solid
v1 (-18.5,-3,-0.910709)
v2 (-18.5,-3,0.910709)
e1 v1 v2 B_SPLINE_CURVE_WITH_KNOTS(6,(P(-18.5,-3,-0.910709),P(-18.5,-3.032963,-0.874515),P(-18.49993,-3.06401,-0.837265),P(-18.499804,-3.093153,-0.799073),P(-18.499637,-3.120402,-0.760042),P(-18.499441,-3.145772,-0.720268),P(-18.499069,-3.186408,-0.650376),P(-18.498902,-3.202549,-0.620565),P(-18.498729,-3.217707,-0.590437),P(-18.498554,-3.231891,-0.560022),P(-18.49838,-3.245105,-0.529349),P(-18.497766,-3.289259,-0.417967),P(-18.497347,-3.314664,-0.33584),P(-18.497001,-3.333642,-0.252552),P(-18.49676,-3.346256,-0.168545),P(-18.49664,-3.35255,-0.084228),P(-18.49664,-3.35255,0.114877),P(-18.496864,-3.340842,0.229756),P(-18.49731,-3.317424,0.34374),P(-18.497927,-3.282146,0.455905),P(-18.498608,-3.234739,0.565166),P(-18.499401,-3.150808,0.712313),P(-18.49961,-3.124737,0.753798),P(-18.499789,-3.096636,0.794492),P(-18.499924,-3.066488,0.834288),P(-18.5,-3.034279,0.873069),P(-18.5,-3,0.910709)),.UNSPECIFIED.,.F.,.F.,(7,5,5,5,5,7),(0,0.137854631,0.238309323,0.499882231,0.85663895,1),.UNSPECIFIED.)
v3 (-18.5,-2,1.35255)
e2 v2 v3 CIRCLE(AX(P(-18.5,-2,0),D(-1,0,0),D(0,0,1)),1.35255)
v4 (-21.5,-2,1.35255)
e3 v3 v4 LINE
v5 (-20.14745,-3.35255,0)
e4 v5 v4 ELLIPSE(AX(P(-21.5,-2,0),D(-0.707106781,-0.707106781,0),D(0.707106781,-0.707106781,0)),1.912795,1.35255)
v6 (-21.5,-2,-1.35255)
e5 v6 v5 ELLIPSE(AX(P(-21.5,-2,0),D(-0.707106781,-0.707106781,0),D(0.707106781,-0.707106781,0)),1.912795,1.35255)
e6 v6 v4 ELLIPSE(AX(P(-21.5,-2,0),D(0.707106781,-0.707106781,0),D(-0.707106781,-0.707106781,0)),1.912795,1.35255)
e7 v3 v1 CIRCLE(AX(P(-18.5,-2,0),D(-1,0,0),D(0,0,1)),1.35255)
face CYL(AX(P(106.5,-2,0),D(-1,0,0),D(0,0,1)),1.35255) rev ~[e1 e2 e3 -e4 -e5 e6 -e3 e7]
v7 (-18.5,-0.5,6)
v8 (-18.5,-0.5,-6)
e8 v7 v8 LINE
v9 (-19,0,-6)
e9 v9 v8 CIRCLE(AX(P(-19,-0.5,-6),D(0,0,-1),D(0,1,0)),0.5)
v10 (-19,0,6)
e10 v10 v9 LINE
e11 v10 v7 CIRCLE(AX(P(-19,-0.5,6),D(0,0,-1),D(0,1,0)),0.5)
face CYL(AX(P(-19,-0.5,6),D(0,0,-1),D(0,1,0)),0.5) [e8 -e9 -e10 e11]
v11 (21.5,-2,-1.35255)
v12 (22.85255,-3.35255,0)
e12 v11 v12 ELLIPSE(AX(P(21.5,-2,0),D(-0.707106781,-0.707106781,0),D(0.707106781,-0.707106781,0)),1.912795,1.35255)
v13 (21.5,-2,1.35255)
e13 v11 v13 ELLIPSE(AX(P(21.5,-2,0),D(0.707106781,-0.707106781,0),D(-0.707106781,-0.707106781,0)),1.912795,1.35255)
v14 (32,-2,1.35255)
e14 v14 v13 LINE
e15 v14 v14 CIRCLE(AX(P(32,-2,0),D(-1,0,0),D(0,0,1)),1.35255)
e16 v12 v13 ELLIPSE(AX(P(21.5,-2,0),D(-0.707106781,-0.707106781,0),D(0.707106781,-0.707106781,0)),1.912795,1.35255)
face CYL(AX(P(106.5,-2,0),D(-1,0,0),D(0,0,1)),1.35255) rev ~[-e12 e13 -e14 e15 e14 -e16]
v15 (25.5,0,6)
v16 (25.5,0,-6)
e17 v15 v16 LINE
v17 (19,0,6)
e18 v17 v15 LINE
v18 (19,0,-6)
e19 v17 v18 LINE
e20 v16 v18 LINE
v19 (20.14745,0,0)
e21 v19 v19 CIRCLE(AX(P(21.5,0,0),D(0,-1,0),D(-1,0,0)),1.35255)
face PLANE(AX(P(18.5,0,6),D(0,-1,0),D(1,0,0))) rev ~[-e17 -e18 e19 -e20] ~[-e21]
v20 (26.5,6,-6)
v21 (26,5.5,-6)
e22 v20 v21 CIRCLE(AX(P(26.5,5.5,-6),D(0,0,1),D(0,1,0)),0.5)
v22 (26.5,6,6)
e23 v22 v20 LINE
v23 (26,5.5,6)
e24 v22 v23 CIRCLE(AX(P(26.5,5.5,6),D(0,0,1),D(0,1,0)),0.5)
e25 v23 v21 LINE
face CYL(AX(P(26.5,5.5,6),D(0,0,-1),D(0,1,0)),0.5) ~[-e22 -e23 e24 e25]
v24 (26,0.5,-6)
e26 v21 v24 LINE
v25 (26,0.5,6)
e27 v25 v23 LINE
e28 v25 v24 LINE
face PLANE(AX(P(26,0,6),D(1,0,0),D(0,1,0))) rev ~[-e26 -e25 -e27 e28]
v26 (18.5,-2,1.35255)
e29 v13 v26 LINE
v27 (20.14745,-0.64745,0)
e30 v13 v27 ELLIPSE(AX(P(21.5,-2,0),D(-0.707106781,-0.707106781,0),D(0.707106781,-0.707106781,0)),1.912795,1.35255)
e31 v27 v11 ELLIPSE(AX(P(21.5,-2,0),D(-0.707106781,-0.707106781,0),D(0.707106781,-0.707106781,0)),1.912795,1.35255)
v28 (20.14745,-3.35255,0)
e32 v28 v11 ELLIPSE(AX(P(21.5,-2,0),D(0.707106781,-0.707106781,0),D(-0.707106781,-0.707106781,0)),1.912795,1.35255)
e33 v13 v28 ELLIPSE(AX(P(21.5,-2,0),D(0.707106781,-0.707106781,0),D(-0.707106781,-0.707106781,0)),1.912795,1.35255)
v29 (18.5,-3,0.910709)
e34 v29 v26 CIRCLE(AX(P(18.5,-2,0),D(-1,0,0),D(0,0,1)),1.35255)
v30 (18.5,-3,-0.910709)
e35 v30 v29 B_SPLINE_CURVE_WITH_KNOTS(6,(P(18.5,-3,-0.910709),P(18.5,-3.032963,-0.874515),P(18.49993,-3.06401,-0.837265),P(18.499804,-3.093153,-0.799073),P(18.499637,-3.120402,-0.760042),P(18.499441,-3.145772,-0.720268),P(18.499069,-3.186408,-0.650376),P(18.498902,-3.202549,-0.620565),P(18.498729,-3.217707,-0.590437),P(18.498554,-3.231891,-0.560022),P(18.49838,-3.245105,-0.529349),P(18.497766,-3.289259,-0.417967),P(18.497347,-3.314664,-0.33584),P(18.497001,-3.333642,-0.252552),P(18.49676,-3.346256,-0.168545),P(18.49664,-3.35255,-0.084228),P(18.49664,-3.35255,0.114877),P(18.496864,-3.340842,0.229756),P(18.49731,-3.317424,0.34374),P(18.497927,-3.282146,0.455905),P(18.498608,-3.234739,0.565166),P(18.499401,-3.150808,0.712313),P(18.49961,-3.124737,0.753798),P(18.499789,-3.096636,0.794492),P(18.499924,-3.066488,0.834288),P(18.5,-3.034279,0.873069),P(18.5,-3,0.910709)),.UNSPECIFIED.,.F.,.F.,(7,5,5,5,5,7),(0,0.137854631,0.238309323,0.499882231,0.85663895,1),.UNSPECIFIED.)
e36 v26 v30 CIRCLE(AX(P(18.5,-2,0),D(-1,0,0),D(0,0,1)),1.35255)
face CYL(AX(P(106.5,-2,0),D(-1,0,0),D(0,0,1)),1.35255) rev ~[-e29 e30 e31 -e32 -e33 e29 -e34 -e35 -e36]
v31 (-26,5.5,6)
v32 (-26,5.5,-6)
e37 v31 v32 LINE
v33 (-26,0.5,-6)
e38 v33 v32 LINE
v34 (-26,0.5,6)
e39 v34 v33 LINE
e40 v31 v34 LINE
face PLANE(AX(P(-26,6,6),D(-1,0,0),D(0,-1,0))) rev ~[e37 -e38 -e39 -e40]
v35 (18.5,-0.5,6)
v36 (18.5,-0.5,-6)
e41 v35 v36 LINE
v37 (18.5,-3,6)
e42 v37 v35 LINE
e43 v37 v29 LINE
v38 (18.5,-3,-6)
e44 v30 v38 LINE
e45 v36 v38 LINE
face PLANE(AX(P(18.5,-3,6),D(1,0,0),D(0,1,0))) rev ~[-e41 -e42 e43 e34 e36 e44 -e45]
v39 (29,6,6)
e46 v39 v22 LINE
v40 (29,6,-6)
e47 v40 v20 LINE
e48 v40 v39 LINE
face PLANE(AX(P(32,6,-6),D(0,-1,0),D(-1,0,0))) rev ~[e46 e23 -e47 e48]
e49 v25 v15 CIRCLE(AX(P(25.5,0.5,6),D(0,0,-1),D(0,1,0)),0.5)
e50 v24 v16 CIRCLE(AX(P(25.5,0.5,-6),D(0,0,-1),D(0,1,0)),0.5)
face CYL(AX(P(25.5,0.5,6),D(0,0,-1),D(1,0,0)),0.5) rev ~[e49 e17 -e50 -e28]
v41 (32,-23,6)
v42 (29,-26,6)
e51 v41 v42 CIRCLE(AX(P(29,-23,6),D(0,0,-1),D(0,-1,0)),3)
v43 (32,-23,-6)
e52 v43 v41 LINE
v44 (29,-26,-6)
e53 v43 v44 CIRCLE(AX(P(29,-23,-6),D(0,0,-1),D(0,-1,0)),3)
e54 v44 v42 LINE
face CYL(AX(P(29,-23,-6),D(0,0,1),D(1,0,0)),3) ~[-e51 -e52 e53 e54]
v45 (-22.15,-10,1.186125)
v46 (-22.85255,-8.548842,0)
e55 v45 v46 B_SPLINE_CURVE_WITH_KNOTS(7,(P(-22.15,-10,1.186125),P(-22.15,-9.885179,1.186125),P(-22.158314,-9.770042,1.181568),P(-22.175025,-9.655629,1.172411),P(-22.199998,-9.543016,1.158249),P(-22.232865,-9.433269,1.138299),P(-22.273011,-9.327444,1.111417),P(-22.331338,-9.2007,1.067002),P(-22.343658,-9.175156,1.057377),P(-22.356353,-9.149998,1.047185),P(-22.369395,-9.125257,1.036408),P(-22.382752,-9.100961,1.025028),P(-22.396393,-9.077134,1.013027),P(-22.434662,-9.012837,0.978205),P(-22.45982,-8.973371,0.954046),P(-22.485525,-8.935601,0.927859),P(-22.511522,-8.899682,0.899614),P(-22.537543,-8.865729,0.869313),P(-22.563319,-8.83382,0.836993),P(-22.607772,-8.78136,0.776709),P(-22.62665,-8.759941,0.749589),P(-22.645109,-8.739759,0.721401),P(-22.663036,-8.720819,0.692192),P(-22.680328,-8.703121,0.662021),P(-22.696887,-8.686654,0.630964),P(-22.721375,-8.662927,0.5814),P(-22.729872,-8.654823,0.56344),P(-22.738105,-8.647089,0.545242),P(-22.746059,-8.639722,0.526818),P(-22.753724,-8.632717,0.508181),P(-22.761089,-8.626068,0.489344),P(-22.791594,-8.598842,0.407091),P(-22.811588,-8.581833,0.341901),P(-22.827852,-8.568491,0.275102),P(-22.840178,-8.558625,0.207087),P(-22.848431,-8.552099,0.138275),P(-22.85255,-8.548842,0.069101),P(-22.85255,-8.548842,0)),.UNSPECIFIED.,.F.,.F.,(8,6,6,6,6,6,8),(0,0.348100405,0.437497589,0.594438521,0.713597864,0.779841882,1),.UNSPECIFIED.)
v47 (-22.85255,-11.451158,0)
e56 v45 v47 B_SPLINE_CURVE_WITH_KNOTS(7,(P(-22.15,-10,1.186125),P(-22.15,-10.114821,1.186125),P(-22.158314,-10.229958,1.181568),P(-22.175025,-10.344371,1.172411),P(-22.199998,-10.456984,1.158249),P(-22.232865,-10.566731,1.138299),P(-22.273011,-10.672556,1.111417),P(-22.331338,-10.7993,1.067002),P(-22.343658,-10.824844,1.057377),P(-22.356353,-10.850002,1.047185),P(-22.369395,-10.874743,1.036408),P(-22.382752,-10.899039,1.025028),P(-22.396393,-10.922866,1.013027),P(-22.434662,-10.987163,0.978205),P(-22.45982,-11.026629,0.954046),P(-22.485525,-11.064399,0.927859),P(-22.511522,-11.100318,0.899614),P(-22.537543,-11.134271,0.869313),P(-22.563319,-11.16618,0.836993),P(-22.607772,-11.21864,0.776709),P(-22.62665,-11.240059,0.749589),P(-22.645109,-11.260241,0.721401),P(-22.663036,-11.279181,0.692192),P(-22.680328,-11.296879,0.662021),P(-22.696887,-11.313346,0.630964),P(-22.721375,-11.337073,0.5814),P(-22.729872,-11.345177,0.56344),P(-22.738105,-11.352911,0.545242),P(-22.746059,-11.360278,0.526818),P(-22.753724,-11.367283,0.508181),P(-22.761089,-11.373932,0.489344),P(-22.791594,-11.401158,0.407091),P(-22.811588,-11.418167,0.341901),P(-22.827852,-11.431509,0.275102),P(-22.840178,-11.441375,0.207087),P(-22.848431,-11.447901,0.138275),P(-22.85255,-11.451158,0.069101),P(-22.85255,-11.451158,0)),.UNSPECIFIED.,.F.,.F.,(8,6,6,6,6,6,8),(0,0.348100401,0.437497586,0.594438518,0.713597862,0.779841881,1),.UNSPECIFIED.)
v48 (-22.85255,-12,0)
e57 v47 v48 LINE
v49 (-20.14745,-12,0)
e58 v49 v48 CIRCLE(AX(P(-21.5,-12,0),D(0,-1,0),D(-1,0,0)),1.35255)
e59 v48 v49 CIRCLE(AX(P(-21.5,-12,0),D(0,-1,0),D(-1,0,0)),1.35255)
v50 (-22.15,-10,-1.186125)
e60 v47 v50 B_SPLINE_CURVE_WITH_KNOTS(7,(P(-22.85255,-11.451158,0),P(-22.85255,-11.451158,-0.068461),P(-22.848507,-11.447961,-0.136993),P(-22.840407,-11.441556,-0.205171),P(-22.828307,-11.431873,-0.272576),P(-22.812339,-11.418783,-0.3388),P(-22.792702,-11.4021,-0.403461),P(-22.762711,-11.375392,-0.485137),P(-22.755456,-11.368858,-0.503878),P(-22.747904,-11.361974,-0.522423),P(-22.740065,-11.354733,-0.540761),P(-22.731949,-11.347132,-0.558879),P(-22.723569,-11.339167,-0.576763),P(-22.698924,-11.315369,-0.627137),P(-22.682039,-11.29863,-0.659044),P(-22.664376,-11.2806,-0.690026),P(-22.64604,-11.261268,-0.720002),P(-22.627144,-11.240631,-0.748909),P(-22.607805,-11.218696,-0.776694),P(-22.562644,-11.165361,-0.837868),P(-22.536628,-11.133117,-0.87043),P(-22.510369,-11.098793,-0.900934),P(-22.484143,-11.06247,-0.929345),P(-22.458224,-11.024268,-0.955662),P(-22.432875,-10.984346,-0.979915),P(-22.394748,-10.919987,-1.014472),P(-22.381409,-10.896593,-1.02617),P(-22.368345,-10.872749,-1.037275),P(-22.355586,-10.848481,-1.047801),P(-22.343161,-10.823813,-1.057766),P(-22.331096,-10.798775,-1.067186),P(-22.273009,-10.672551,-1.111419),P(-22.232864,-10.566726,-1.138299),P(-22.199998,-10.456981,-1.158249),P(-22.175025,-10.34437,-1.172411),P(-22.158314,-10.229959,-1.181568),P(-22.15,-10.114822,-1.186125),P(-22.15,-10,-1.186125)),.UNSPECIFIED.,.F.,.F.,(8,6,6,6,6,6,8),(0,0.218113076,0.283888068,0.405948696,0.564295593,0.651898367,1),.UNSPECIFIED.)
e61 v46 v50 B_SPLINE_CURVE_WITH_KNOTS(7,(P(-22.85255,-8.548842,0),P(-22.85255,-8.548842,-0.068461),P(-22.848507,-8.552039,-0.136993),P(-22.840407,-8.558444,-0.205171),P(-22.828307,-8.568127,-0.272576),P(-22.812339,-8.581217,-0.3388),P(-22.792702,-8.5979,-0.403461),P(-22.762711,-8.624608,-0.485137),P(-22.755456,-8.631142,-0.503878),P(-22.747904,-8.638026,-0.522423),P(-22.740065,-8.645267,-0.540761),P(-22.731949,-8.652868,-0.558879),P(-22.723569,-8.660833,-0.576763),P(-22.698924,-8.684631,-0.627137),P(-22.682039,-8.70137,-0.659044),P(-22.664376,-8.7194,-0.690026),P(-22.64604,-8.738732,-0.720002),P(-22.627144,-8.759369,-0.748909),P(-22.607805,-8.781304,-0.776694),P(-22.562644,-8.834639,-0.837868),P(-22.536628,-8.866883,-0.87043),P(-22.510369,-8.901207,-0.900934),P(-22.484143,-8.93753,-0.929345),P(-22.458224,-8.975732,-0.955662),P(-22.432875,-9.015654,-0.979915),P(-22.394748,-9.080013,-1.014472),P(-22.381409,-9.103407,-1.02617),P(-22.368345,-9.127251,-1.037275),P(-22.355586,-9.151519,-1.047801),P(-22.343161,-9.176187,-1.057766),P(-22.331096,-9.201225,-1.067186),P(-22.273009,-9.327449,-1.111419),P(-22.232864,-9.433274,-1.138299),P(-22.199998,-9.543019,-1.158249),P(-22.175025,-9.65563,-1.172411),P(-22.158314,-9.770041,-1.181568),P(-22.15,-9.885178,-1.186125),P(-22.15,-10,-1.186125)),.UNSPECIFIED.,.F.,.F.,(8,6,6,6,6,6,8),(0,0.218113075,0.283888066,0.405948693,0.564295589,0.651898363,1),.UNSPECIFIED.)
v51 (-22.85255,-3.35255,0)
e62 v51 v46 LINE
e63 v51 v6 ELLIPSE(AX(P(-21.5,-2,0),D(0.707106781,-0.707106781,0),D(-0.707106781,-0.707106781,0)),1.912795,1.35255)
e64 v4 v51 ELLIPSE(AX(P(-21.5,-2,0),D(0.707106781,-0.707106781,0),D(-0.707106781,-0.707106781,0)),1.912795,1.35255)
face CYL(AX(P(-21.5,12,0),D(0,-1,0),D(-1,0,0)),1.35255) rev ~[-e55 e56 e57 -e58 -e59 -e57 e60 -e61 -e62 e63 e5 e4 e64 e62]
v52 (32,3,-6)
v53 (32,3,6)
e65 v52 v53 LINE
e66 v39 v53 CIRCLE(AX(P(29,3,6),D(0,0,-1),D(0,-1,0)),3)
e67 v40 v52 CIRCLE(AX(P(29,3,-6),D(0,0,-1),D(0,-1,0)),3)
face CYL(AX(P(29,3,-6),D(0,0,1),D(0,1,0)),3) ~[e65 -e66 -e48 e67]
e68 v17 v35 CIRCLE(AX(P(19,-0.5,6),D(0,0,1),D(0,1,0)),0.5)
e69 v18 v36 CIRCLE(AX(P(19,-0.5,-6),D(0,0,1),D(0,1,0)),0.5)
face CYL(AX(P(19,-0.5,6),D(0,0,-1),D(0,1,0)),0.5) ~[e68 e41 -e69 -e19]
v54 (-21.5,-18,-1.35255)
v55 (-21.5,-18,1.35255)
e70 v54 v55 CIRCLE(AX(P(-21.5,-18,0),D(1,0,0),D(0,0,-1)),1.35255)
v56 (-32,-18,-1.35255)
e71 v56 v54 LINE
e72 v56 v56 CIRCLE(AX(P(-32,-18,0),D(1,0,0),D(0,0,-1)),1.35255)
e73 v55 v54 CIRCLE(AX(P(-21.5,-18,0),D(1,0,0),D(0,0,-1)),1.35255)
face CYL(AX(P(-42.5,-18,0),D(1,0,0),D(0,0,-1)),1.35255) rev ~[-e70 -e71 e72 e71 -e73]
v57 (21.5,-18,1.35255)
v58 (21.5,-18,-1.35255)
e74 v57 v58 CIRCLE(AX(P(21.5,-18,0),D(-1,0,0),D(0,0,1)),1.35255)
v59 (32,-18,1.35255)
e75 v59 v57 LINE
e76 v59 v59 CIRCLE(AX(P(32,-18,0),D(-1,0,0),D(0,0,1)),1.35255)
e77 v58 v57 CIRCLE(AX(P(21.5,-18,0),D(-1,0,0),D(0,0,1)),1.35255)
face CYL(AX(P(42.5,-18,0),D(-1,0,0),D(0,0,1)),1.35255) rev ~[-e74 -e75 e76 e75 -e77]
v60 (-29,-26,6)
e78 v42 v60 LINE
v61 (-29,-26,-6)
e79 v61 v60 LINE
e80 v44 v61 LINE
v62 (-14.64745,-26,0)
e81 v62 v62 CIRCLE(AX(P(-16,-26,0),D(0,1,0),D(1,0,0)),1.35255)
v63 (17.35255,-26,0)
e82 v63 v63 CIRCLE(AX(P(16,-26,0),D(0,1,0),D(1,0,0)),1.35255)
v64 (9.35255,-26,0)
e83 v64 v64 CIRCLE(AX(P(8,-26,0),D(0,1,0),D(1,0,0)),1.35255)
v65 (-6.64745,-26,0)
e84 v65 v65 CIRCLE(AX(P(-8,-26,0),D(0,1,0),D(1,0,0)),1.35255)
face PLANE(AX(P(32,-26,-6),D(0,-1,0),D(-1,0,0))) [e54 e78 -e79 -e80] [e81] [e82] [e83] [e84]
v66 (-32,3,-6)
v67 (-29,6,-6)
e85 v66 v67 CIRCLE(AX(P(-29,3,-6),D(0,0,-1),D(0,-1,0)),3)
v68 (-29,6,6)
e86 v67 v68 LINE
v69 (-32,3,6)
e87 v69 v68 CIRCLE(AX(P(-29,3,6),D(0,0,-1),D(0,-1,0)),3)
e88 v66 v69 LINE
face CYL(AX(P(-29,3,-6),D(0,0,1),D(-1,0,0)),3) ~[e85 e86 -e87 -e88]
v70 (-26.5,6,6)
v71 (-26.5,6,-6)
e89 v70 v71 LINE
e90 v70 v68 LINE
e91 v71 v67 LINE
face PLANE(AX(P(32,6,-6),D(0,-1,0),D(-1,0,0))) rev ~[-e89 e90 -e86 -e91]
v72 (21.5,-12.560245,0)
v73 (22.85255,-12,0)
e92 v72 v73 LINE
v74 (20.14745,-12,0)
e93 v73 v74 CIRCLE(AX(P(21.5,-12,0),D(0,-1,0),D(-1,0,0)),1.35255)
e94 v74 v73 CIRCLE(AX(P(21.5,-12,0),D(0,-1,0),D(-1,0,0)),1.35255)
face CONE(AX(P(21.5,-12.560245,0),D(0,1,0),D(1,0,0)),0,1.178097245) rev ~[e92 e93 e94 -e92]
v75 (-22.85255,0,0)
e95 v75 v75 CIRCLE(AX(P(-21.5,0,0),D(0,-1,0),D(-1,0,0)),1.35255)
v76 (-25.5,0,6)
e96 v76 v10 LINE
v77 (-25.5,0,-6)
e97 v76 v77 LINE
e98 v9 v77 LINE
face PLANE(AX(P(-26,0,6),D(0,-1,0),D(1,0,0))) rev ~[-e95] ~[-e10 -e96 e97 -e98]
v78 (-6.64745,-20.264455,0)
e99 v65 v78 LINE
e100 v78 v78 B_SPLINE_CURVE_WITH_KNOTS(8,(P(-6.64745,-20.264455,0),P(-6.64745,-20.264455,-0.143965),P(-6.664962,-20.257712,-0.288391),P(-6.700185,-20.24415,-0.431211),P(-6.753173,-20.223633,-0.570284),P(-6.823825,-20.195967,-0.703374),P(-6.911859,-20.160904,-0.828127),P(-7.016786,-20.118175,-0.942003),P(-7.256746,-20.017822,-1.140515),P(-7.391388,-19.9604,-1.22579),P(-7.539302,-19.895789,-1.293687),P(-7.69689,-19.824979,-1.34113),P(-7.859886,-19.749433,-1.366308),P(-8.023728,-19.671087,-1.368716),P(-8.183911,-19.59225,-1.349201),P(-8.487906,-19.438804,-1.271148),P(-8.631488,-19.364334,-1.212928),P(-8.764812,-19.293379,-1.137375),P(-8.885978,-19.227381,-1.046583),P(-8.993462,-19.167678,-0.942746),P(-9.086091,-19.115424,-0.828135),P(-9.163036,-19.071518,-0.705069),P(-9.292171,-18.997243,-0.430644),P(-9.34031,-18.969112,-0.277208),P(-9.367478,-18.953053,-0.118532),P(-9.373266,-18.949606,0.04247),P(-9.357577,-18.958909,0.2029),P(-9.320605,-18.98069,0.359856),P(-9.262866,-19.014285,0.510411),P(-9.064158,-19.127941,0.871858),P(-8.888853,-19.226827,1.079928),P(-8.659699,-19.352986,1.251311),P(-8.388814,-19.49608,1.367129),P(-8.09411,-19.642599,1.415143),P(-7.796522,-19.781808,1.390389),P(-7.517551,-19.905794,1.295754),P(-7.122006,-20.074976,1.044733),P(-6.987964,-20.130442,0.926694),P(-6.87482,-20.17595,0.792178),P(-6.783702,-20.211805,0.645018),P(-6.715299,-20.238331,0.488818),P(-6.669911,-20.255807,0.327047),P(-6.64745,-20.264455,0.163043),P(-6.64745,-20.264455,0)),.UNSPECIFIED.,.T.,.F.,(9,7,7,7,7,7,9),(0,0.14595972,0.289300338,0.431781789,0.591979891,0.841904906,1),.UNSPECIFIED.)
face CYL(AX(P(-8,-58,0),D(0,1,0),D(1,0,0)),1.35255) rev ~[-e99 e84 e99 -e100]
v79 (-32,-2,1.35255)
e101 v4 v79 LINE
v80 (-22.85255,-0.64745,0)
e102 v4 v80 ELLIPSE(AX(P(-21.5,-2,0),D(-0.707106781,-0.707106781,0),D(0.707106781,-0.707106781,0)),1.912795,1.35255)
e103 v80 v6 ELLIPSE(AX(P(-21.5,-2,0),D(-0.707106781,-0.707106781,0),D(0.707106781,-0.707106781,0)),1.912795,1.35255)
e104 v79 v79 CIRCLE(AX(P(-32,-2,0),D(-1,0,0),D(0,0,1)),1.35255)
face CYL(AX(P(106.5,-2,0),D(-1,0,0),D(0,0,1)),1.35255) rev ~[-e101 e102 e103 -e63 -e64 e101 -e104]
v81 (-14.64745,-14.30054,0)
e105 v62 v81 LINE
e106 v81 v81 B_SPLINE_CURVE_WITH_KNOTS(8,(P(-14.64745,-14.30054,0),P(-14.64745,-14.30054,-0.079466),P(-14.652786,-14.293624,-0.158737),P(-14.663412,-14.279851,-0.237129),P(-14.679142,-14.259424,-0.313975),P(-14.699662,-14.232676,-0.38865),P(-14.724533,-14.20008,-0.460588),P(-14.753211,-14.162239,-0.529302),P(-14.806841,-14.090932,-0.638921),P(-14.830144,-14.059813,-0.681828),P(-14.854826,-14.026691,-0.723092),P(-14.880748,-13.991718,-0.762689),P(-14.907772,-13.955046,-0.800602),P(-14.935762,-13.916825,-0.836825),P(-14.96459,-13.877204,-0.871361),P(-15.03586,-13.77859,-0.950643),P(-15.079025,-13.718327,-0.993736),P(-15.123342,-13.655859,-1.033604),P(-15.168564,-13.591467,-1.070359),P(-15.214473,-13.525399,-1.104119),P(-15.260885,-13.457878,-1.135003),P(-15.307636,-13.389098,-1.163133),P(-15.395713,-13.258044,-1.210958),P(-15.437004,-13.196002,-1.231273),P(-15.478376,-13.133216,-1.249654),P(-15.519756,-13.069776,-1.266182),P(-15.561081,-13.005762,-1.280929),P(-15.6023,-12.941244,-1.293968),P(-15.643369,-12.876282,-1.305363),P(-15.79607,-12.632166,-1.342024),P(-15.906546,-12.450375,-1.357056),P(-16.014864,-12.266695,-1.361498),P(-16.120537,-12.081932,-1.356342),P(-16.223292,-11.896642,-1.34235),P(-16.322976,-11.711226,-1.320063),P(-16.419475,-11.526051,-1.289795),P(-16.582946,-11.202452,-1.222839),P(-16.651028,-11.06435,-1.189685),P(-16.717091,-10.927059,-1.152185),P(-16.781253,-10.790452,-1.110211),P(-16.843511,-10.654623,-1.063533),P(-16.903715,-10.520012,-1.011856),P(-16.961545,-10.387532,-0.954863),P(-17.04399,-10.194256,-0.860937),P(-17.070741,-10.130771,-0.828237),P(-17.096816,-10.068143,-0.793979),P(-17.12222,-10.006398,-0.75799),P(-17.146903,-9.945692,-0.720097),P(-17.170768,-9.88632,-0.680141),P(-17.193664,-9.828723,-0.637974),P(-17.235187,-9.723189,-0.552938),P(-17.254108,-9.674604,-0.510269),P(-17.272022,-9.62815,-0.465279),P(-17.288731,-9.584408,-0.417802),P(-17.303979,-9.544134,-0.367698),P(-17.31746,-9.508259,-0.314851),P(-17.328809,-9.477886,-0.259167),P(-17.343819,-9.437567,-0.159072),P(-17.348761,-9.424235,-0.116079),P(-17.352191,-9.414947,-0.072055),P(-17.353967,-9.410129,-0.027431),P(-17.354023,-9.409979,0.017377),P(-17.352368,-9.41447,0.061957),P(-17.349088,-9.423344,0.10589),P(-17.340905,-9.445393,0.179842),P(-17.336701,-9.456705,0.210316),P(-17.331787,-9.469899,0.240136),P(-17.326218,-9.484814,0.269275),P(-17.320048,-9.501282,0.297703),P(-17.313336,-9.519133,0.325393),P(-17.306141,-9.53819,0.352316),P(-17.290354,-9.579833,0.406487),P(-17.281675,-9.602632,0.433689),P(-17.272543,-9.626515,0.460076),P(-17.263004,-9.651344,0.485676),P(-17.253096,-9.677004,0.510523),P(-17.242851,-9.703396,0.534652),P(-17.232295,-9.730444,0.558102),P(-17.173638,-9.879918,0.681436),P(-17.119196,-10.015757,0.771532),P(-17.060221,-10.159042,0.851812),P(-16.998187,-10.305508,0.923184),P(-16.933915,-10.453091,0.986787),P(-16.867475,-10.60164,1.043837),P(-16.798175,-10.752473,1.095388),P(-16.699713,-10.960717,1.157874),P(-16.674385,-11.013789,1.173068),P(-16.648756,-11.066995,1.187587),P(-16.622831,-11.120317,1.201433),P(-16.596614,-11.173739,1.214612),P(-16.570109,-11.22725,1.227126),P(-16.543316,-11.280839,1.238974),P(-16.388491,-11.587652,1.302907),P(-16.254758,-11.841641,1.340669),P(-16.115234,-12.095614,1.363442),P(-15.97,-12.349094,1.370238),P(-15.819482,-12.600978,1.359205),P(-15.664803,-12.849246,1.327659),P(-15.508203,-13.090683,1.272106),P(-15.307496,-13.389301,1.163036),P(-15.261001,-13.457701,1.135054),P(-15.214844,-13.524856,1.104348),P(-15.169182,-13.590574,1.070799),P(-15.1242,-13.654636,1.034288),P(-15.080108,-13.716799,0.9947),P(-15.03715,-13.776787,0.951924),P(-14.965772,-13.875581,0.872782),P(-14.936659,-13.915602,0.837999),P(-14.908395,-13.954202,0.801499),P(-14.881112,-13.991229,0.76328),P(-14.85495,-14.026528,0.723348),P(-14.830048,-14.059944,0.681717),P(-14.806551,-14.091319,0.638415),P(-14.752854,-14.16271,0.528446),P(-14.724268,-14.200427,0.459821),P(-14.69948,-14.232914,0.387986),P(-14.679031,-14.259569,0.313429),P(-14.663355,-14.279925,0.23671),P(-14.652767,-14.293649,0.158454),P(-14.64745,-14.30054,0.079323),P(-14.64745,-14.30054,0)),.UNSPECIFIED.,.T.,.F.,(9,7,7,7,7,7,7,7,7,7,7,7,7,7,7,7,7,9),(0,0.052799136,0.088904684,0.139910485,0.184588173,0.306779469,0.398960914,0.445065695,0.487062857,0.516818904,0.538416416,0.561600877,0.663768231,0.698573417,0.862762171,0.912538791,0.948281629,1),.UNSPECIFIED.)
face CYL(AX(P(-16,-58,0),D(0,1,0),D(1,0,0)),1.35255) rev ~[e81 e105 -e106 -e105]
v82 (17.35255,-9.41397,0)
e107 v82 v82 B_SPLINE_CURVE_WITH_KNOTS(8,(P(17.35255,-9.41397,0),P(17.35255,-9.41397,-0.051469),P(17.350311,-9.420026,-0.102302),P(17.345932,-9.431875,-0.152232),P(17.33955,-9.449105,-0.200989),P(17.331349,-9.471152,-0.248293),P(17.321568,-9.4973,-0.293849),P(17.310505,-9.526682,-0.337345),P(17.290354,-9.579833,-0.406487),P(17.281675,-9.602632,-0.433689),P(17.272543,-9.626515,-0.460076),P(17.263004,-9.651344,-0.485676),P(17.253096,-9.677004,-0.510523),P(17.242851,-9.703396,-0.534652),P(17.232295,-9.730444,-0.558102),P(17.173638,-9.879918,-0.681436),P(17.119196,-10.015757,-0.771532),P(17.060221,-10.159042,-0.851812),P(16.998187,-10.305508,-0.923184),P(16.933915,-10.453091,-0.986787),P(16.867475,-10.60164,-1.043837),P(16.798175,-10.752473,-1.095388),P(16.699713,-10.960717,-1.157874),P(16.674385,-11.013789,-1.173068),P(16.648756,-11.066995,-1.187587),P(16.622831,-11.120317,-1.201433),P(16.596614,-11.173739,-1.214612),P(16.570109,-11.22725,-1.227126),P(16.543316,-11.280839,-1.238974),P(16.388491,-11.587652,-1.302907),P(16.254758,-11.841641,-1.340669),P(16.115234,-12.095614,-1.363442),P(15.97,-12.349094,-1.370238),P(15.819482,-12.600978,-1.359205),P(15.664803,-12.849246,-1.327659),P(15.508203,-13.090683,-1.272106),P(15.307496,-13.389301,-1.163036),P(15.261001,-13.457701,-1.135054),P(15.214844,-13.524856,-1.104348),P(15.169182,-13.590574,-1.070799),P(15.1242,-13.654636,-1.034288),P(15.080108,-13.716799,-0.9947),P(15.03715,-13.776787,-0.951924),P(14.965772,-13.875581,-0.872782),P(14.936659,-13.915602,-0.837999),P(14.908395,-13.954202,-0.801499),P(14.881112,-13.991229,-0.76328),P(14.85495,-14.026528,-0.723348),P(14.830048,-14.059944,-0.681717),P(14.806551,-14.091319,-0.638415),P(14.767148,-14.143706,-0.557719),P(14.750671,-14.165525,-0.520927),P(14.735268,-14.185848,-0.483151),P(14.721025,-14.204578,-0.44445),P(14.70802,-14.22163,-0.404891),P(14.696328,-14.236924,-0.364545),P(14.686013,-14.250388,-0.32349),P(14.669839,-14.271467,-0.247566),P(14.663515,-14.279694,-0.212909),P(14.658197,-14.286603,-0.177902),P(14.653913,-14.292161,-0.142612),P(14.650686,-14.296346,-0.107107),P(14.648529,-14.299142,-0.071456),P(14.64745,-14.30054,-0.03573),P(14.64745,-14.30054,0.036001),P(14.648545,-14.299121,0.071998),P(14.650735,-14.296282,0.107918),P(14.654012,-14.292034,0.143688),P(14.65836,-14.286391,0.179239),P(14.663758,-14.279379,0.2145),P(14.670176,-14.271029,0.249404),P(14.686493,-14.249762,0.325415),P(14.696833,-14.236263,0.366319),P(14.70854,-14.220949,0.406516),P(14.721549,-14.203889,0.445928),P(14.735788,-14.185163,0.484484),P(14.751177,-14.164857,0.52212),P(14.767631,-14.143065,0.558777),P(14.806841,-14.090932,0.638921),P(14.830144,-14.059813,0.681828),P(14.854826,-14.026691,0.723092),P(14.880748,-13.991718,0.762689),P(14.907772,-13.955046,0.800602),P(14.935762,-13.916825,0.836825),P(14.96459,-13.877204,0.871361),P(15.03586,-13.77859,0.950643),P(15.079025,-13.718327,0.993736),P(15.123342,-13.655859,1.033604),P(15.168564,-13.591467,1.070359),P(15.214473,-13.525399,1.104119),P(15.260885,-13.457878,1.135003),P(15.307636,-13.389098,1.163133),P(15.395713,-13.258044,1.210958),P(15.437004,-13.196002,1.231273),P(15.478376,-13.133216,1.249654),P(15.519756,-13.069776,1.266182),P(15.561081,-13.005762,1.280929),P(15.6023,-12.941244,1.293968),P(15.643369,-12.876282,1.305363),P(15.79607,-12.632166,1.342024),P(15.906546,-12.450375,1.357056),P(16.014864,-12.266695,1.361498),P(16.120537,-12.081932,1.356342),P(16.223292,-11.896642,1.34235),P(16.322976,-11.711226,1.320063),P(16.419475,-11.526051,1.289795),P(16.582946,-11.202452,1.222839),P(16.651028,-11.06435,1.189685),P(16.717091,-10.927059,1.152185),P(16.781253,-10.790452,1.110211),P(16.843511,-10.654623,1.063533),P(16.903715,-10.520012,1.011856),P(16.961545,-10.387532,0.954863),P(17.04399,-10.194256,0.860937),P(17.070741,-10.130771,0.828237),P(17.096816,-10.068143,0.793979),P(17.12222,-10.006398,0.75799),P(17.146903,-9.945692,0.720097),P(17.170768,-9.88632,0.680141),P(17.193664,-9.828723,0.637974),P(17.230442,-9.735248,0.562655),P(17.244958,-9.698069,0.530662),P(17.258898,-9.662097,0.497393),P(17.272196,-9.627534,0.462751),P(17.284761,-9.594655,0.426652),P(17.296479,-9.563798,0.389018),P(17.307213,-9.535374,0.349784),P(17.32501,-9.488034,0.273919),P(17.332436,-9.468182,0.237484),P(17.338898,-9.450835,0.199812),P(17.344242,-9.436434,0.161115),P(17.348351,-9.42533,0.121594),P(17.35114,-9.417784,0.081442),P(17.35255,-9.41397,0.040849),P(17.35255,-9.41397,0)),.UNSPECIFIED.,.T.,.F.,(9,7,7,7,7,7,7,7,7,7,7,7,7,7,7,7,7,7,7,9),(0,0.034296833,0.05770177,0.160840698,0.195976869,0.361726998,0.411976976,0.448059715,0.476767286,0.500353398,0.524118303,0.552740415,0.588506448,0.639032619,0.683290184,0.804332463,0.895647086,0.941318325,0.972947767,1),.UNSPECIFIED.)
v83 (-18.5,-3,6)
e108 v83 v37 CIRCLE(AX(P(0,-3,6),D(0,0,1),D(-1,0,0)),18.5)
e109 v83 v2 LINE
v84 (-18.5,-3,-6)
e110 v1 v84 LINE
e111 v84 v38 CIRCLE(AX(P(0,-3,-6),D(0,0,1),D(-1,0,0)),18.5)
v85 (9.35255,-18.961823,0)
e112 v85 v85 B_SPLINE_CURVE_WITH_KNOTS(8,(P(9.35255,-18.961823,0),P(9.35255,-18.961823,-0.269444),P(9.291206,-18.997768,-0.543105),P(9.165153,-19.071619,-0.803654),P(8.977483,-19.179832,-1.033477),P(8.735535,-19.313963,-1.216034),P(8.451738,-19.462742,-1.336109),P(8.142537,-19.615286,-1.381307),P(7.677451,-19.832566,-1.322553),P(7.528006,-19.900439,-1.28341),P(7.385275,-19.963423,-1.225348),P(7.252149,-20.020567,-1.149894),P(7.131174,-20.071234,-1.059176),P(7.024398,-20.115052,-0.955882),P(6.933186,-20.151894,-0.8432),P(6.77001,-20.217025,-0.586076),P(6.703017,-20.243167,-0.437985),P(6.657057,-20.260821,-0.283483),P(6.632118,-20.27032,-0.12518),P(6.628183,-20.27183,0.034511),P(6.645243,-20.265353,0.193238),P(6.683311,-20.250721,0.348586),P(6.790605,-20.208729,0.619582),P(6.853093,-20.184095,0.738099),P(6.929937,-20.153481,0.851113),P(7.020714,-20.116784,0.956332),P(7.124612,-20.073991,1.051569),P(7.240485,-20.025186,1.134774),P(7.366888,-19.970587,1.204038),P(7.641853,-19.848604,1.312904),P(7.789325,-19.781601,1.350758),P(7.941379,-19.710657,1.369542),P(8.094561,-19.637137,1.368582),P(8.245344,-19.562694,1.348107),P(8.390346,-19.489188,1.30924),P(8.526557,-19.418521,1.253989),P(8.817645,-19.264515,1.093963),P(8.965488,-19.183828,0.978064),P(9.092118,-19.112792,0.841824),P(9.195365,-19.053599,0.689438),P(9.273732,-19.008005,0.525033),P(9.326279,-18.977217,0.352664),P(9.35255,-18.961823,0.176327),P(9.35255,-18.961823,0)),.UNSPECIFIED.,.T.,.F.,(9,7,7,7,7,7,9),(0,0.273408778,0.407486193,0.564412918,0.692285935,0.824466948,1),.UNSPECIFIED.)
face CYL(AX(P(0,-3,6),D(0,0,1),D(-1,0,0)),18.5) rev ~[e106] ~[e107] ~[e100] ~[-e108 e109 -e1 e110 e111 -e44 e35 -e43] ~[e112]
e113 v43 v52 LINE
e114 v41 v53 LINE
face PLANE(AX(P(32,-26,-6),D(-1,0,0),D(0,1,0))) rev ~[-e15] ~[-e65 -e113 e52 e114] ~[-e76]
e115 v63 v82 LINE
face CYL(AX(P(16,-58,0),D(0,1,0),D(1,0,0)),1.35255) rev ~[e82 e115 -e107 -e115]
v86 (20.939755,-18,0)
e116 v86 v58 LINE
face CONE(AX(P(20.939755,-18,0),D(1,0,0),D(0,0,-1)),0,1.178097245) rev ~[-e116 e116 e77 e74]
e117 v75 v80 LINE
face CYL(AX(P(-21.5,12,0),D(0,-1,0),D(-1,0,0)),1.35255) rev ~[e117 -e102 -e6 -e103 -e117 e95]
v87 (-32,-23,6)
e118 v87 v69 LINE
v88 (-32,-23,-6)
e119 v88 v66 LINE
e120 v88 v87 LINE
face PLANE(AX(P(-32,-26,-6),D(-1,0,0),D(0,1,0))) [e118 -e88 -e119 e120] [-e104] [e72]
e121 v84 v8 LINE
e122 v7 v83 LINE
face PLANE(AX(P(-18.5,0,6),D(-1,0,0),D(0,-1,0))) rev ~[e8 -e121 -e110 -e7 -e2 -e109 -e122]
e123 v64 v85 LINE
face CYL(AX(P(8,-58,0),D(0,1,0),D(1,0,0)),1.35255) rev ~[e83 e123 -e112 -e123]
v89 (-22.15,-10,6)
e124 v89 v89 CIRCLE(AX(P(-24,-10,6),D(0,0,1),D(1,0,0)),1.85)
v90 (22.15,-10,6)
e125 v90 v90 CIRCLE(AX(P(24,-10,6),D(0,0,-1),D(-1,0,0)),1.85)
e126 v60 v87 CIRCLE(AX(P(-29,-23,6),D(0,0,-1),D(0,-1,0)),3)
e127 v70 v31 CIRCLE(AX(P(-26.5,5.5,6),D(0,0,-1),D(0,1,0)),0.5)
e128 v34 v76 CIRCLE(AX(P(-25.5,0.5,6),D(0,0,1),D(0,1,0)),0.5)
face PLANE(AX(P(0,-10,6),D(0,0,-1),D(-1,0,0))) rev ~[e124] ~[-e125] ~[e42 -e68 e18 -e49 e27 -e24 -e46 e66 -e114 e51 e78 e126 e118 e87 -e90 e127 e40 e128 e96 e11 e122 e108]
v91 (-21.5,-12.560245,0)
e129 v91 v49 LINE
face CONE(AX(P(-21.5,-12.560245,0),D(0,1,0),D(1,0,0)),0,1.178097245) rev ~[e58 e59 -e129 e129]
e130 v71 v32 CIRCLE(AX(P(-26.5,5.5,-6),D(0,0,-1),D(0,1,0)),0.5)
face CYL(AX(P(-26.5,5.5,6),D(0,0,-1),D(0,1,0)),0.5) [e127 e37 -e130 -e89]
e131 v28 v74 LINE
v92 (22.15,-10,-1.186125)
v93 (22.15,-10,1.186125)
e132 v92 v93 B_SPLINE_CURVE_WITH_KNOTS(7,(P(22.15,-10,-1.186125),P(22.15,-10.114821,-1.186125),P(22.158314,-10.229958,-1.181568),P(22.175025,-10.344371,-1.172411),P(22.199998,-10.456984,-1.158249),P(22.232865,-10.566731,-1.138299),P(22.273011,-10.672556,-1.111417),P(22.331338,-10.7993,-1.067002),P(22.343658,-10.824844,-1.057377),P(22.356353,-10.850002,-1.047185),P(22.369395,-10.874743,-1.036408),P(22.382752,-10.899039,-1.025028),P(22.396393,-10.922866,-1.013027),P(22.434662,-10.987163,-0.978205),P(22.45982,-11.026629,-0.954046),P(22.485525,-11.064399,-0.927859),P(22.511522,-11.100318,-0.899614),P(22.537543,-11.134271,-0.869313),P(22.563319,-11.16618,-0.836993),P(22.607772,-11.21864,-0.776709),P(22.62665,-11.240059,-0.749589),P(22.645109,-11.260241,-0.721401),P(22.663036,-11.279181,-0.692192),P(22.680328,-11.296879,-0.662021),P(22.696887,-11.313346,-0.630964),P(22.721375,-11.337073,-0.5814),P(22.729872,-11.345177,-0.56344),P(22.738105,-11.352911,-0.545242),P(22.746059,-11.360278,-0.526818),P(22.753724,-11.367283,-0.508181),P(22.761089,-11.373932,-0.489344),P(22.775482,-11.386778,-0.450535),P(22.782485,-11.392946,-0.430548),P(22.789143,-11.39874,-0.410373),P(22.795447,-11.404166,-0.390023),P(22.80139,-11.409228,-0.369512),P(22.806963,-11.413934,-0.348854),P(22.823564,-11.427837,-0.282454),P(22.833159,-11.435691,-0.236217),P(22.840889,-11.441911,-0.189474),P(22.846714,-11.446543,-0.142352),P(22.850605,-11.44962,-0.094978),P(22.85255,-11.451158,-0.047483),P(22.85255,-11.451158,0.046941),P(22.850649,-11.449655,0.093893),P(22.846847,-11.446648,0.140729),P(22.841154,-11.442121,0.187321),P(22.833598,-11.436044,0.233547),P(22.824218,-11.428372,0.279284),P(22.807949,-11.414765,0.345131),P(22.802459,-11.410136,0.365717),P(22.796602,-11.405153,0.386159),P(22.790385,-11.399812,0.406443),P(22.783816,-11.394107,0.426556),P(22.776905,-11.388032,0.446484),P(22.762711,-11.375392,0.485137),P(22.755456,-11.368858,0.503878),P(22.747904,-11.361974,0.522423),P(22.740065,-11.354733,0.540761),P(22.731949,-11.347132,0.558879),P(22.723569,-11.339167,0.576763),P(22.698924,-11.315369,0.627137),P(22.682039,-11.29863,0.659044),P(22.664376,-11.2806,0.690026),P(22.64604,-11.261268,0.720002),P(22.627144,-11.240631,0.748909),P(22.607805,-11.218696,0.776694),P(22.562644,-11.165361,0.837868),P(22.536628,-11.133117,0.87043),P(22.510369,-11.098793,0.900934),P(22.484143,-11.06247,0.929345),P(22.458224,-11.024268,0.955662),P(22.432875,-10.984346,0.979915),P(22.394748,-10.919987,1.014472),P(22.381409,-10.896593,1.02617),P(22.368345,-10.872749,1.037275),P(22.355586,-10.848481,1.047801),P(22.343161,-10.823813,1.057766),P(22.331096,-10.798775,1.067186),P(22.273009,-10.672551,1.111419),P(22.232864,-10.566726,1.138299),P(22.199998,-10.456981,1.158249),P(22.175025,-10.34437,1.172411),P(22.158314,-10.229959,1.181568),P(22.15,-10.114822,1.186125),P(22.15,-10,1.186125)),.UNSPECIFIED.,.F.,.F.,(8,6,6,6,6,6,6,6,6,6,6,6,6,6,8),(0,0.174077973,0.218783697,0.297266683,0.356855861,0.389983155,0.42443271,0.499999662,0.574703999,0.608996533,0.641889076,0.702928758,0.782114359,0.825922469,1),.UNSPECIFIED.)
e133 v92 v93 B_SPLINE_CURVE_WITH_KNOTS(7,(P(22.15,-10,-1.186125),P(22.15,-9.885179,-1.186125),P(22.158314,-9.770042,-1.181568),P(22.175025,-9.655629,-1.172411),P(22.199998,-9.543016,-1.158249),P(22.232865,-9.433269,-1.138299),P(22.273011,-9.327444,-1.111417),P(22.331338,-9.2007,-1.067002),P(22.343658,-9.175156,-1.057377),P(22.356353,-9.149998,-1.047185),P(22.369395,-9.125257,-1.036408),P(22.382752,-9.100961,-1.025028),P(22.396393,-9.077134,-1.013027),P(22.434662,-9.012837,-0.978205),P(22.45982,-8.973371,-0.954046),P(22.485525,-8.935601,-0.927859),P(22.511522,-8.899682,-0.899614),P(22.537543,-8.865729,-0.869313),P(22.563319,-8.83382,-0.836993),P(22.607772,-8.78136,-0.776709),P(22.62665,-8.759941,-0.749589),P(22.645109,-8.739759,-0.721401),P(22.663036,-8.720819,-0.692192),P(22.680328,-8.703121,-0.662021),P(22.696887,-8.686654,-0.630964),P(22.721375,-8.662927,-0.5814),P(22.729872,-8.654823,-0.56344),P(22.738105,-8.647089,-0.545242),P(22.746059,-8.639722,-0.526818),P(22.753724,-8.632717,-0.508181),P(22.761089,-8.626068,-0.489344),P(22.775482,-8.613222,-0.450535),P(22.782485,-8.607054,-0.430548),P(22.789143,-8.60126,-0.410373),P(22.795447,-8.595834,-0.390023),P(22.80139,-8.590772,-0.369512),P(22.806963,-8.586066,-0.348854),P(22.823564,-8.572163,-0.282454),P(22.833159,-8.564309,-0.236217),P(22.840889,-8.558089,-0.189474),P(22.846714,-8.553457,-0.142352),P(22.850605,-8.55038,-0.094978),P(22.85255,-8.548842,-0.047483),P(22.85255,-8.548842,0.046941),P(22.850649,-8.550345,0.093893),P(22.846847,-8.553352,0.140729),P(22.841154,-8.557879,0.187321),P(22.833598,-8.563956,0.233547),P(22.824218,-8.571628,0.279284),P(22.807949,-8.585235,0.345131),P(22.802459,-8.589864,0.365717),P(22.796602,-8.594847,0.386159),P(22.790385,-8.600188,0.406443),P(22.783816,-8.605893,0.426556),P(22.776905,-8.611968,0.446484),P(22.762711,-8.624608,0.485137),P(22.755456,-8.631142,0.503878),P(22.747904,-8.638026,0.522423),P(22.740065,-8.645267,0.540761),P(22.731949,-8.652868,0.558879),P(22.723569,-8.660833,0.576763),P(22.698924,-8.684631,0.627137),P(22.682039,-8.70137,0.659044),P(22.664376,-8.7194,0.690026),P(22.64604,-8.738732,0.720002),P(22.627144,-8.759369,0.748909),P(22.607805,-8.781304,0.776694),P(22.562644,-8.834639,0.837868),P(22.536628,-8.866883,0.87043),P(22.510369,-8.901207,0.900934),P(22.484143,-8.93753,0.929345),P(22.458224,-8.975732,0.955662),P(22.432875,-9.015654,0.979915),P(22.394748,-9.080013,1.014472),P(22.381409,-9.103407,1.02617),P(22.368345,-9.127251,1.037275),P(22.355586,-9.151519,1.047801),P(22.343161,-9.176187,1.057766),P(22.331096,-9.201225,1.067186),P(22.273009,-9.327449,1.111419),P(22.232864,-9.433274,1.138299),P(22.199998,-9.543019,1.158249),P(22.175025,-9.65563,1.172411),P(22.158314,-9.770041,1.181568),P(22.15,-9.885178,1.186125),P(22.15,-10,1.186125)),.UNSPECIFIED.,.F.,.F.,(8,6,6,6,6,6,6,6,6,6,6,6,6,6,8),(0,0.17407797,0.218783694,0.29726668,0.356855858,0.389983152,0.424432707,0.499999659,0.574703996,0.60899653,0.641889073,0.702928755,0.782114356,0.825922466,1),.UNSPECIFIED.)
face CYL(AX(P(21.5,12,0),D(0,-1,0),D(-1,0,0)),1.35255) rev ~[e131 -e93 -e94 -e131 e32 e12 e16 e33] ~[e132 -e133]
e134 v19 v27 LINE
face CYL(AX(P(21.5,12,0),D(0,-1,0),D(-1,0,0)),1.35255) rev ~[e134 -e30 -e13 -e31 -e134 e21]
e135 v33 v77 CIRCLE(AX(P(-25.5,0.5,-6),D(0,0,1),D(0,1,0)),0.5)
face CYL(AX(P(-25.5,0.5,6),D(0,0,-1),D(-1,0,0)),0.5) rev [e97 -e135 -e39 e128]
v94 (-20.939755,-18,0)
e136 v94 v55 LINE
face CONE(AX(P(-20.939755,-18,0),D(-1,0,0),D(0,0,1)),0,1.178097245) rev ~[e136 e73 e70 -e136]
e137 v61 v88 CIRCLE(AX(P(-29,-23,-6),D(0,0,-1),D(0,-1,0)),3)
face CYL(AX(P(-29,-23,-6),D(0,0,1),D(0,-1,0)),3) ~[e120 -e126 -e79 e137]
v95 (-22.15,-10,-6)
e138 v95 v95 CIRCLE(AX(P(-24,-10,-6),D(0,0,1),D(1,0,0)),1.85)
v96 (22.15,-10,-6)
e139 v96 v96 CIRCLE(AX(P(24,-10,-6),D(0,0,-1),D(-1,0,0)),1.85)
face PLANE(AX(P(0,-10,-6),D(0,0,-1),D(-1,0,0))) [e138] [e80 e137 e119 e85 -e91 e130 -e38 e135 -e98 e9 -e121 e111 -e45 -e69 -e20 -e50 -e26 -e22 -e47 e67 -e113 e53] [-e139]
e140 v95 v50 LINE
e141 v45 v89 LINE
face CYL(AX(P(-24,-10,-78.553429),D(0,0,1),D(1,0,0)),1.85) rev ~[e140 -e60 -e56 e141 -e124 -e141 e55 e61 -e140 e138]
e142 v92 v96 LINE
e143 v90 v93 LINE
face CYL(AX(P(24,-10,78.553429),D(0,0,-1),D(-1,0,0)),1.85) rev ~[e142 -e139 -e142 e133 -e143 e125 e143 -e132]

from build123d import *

# Parameters (mm, degrees)
SKETCH1_W                  = 64
SKETCH1_H                  = 32
BOSS_EXTRUDE1_DEPTH        = 12
CUT_EXTRUDE1_DEPTH         = 43.941821107
SKETCH3_W                  = 7.5
SKETCH3_H                  = 6
CUT_EXTRUDE2_DEPTH         = 43.941821107
M2_5_CLEARANCE_HOLE1_D     = 2.7051
M2_5_CLEARANCE_HOLE1_DEPTH = 32
M2_5_CLEARANCE_HOLE2_D     = 2.7051
M2_5_CLEARANCE_HOLE2_DEPTH = 32
F_3_7_3_7_DIAMETER_HOLE1_D = 3.7
M2_5_CLEARANCE_HOLE3_D     = 2.7051
M2_5_CLEARANCE_HOLE3_DEPTH = 12
M2_5_CLEARANCE_HOLE3_TIP   = 0.560244554
F_3_7_3_7_DIAMETER_HOLE2_D = 3.7
M2_5_CLEARANCE_HOLE4_D     = 2.7051
M2_5_CLEARANCE_HOLE4_DEPTH = 74.5
M2_5_CLEARANCE_HOLE5_D     = 2.7051
M2_5_CLEARANCE_HOLE5_DEPTH = 10.5
M2_5_CLEARANCE_HOLE5_TIP   = 0.560244554
M2_5_CLEARANCE_HOLE6_D     = 2.7051
M2_5_CLEARANCE_HOLE6_DEPTH = 10.5
M2_5_CLEARANCE_HOLE6_TIP   = 0.560244554
FILLET1_R                  = 0.5
FILLET2_R                  = 3


with BuildPart() as part:
    # Sketch1 → Boss-Extrude1 (new body)
    with BuildSketch(Plane(origin=(0, 0, -6), x_dir=(-1, 0, 0), z_dir=(0, 0, -1))):
        with Locations((0, -10)):
            Rectangle(SKETCH1_W, SKETCH1_H)
    extrude(amount=-BOSS_EXTRUDE1_DEPTH)

    # Sketch2 → Cut-Extrude1 (cut, through all)
    with BuildSketch(Plane.XY.offset(6)):
        with BuildLine():
            Line((-26, 6), (-26, 0))
            Line((-26, 0), (-18.5, 0))
            Line((-18.5, 0), (-18.5, -3))
            ThreePointArc((-18.5, -3), (0, -21.5), (18.5, -3))
            Line((18.5, -3), (18.5, 6))
            Line((18.5, 6), (-26, 6))
        make_face()
    extrude(amount=-CUT_EXTRUDE1_DEPTH, mode=Mode.SUBTRACT)

    # Sketch3 → Cut-Extrude2 (cut, through all)
    with BuildSketch(Plane.XY.offset(6)):
        with Locations((22.25, 3)):
            Rectangle(SKETCH3_W, SKETCH3_H)
    extrude(amount=-CUT_EXTRUDE2_DEPTH, mode=Mode.SUBTRACT)

    # M2.5 Clearance Hole1
    with Locations(Plane(origin=(0, -26, 0), x_dir=(-1, 0, 0), z_dir=(0, -1, 0))):
        with Locations((8, 0), (-8, 0)):
            Hole(M2_5_CLEARANCE_HOLE1_D / 2, depth=M2_5_CLEARANCE_HOLE1_DEPTH)

    # M2.5 Clearance Hole2
    with Locations(Plane(origin=(0, -26, 0), x_dir=(-1, 0, 0), z_dir=(0, -1, 0))):
        with Locations((16, 0), (-16, 0)):
            Hole(M2_5_CLEARANCE_HOLE2_D / 2, depth=M2_5_CLEARANCE_HOLE2_DEPTH)

    # Ø3.7 (3.7) Diameter Hole1 (through all)
    with Locations(Plane(origin=(0, 0, -6), x_dir=(-1, 0, 0), z_dir=(0, 0, -1))):
        with Locations((24, -10)):
            Hole(F_3_7_3_7_DIAMETER_HOLE1_D / 2)

    # M2.5 Clearance Hole3
    with Locations(Plane(origin=(0, 0, 0), x_dir=(1, 0, 0), z_dir=(0, 1, 0))):
        with Locations((21.5, 0), (-21.5, 0)):
            Hole(M2_5_CLEARANCE_HOLE3_D / 2, depth=M2_5_CLEARANCE_HOLE3_DEPTH)
            with Locations((0, 0, -(M2_5_CLEARANCE_HOLE3_DEPTH + M2_5_CLEARANCE_HOLE3_TIP / 2))):  # 135° drill point
                Cone(0, M2_5_CLEARANCE_HOLE3_D / 2, M2_5_CLEARANCE_HOLE3_TIP, mode=Mode.SUBTRACT)

    # Ø3.7 (3.7) Diameter Hole2 (through all)
    with Locations(Plane.XY.offset(6)):
        with Locations((24, -10)):
            Hole(F_3_7_3_7_DIAMETER_HOLE2_D / 2)

    # M2.5 Clearance Hole4
    with Locations(Plane(origin=(32, 0, 0), x_dir=(0, 0, -1), z_dir=(1, 0, 0))):
        with Locations((0, -2)):
            Hole(M2_5_CLEARANCE_HOLE4_D / 2, depth=M2_5_CLEARANCE_HOLE4_DEPTH)

    # M2.5 Clearance Hole5
    with Locations(Plane(origin=(32, 0, 0), x_dir=(0, 0, -1), z_dir=(1, 0, 0))):
        with Locations((0, -18)):
            Hole(M2_5_CLEARANCE_HOLE5_D / 2, depth=M2_5_CLEARANCE_HOLE5_DEPTH)
            with Locations((0, 0, -(M2_5_CLEARANCE_HOLE5_DEPTH + M2_5_CLEARANCE_HOLE5_TIP / 2))):  # 135° drill point
                Cone(0, M2_5_CLEARANCE_HOLE5_D / 2, M2_5_CLEARANCE_HOLE5_TIP, mode=Mode.SUBTRACT)

    # M2.5 Clearance Hole6
    with Locations(Plane.ZY.offset(32)):
        with Locations((0, -18)):
            Hole(M2_5_CLEARANCE_HOLE6_D / 2, depth=M2_5_CLEARANCE_HOLE6_DEPTH)
            with Locations((0, 0, -(M2_5_CLEARANCE_HOLE6_DEPTH + M2_5_CLEARANCE_HOLE6_TIP / 2))):  # 135° drill point
                Cone(0, M2_5_CLEARANCE_HOLE6_D / 2, M2_5_CLEARANCE_HOLE6_TIP, mode=Mode.SUBTRACT)

    # Fillet1
    fillet1_edges = [part.edges().sort_by_distance(p)[0] for p in [
        (-26, 6, 0),
        (-18.5, 0, 0),
        (-26, 0, 0),
        (18.5, 0, 0),
        (26, 6, 0),
        (26, 0, 0),
    ]]
    fillet(fillet1_edges, radius=FILLET1_R)

    # Fillet2
    fillet2_edges = [part.edges().sort_by_distance(p)[0] for p in [
        (32, -26, 0),
        (32, 6, 0),
        (-32, 6, 0),
        (-32, -26, 0),
    ]]
    fillet(fillet2_edges, radius=FILLET2_R)


solid = part.part
